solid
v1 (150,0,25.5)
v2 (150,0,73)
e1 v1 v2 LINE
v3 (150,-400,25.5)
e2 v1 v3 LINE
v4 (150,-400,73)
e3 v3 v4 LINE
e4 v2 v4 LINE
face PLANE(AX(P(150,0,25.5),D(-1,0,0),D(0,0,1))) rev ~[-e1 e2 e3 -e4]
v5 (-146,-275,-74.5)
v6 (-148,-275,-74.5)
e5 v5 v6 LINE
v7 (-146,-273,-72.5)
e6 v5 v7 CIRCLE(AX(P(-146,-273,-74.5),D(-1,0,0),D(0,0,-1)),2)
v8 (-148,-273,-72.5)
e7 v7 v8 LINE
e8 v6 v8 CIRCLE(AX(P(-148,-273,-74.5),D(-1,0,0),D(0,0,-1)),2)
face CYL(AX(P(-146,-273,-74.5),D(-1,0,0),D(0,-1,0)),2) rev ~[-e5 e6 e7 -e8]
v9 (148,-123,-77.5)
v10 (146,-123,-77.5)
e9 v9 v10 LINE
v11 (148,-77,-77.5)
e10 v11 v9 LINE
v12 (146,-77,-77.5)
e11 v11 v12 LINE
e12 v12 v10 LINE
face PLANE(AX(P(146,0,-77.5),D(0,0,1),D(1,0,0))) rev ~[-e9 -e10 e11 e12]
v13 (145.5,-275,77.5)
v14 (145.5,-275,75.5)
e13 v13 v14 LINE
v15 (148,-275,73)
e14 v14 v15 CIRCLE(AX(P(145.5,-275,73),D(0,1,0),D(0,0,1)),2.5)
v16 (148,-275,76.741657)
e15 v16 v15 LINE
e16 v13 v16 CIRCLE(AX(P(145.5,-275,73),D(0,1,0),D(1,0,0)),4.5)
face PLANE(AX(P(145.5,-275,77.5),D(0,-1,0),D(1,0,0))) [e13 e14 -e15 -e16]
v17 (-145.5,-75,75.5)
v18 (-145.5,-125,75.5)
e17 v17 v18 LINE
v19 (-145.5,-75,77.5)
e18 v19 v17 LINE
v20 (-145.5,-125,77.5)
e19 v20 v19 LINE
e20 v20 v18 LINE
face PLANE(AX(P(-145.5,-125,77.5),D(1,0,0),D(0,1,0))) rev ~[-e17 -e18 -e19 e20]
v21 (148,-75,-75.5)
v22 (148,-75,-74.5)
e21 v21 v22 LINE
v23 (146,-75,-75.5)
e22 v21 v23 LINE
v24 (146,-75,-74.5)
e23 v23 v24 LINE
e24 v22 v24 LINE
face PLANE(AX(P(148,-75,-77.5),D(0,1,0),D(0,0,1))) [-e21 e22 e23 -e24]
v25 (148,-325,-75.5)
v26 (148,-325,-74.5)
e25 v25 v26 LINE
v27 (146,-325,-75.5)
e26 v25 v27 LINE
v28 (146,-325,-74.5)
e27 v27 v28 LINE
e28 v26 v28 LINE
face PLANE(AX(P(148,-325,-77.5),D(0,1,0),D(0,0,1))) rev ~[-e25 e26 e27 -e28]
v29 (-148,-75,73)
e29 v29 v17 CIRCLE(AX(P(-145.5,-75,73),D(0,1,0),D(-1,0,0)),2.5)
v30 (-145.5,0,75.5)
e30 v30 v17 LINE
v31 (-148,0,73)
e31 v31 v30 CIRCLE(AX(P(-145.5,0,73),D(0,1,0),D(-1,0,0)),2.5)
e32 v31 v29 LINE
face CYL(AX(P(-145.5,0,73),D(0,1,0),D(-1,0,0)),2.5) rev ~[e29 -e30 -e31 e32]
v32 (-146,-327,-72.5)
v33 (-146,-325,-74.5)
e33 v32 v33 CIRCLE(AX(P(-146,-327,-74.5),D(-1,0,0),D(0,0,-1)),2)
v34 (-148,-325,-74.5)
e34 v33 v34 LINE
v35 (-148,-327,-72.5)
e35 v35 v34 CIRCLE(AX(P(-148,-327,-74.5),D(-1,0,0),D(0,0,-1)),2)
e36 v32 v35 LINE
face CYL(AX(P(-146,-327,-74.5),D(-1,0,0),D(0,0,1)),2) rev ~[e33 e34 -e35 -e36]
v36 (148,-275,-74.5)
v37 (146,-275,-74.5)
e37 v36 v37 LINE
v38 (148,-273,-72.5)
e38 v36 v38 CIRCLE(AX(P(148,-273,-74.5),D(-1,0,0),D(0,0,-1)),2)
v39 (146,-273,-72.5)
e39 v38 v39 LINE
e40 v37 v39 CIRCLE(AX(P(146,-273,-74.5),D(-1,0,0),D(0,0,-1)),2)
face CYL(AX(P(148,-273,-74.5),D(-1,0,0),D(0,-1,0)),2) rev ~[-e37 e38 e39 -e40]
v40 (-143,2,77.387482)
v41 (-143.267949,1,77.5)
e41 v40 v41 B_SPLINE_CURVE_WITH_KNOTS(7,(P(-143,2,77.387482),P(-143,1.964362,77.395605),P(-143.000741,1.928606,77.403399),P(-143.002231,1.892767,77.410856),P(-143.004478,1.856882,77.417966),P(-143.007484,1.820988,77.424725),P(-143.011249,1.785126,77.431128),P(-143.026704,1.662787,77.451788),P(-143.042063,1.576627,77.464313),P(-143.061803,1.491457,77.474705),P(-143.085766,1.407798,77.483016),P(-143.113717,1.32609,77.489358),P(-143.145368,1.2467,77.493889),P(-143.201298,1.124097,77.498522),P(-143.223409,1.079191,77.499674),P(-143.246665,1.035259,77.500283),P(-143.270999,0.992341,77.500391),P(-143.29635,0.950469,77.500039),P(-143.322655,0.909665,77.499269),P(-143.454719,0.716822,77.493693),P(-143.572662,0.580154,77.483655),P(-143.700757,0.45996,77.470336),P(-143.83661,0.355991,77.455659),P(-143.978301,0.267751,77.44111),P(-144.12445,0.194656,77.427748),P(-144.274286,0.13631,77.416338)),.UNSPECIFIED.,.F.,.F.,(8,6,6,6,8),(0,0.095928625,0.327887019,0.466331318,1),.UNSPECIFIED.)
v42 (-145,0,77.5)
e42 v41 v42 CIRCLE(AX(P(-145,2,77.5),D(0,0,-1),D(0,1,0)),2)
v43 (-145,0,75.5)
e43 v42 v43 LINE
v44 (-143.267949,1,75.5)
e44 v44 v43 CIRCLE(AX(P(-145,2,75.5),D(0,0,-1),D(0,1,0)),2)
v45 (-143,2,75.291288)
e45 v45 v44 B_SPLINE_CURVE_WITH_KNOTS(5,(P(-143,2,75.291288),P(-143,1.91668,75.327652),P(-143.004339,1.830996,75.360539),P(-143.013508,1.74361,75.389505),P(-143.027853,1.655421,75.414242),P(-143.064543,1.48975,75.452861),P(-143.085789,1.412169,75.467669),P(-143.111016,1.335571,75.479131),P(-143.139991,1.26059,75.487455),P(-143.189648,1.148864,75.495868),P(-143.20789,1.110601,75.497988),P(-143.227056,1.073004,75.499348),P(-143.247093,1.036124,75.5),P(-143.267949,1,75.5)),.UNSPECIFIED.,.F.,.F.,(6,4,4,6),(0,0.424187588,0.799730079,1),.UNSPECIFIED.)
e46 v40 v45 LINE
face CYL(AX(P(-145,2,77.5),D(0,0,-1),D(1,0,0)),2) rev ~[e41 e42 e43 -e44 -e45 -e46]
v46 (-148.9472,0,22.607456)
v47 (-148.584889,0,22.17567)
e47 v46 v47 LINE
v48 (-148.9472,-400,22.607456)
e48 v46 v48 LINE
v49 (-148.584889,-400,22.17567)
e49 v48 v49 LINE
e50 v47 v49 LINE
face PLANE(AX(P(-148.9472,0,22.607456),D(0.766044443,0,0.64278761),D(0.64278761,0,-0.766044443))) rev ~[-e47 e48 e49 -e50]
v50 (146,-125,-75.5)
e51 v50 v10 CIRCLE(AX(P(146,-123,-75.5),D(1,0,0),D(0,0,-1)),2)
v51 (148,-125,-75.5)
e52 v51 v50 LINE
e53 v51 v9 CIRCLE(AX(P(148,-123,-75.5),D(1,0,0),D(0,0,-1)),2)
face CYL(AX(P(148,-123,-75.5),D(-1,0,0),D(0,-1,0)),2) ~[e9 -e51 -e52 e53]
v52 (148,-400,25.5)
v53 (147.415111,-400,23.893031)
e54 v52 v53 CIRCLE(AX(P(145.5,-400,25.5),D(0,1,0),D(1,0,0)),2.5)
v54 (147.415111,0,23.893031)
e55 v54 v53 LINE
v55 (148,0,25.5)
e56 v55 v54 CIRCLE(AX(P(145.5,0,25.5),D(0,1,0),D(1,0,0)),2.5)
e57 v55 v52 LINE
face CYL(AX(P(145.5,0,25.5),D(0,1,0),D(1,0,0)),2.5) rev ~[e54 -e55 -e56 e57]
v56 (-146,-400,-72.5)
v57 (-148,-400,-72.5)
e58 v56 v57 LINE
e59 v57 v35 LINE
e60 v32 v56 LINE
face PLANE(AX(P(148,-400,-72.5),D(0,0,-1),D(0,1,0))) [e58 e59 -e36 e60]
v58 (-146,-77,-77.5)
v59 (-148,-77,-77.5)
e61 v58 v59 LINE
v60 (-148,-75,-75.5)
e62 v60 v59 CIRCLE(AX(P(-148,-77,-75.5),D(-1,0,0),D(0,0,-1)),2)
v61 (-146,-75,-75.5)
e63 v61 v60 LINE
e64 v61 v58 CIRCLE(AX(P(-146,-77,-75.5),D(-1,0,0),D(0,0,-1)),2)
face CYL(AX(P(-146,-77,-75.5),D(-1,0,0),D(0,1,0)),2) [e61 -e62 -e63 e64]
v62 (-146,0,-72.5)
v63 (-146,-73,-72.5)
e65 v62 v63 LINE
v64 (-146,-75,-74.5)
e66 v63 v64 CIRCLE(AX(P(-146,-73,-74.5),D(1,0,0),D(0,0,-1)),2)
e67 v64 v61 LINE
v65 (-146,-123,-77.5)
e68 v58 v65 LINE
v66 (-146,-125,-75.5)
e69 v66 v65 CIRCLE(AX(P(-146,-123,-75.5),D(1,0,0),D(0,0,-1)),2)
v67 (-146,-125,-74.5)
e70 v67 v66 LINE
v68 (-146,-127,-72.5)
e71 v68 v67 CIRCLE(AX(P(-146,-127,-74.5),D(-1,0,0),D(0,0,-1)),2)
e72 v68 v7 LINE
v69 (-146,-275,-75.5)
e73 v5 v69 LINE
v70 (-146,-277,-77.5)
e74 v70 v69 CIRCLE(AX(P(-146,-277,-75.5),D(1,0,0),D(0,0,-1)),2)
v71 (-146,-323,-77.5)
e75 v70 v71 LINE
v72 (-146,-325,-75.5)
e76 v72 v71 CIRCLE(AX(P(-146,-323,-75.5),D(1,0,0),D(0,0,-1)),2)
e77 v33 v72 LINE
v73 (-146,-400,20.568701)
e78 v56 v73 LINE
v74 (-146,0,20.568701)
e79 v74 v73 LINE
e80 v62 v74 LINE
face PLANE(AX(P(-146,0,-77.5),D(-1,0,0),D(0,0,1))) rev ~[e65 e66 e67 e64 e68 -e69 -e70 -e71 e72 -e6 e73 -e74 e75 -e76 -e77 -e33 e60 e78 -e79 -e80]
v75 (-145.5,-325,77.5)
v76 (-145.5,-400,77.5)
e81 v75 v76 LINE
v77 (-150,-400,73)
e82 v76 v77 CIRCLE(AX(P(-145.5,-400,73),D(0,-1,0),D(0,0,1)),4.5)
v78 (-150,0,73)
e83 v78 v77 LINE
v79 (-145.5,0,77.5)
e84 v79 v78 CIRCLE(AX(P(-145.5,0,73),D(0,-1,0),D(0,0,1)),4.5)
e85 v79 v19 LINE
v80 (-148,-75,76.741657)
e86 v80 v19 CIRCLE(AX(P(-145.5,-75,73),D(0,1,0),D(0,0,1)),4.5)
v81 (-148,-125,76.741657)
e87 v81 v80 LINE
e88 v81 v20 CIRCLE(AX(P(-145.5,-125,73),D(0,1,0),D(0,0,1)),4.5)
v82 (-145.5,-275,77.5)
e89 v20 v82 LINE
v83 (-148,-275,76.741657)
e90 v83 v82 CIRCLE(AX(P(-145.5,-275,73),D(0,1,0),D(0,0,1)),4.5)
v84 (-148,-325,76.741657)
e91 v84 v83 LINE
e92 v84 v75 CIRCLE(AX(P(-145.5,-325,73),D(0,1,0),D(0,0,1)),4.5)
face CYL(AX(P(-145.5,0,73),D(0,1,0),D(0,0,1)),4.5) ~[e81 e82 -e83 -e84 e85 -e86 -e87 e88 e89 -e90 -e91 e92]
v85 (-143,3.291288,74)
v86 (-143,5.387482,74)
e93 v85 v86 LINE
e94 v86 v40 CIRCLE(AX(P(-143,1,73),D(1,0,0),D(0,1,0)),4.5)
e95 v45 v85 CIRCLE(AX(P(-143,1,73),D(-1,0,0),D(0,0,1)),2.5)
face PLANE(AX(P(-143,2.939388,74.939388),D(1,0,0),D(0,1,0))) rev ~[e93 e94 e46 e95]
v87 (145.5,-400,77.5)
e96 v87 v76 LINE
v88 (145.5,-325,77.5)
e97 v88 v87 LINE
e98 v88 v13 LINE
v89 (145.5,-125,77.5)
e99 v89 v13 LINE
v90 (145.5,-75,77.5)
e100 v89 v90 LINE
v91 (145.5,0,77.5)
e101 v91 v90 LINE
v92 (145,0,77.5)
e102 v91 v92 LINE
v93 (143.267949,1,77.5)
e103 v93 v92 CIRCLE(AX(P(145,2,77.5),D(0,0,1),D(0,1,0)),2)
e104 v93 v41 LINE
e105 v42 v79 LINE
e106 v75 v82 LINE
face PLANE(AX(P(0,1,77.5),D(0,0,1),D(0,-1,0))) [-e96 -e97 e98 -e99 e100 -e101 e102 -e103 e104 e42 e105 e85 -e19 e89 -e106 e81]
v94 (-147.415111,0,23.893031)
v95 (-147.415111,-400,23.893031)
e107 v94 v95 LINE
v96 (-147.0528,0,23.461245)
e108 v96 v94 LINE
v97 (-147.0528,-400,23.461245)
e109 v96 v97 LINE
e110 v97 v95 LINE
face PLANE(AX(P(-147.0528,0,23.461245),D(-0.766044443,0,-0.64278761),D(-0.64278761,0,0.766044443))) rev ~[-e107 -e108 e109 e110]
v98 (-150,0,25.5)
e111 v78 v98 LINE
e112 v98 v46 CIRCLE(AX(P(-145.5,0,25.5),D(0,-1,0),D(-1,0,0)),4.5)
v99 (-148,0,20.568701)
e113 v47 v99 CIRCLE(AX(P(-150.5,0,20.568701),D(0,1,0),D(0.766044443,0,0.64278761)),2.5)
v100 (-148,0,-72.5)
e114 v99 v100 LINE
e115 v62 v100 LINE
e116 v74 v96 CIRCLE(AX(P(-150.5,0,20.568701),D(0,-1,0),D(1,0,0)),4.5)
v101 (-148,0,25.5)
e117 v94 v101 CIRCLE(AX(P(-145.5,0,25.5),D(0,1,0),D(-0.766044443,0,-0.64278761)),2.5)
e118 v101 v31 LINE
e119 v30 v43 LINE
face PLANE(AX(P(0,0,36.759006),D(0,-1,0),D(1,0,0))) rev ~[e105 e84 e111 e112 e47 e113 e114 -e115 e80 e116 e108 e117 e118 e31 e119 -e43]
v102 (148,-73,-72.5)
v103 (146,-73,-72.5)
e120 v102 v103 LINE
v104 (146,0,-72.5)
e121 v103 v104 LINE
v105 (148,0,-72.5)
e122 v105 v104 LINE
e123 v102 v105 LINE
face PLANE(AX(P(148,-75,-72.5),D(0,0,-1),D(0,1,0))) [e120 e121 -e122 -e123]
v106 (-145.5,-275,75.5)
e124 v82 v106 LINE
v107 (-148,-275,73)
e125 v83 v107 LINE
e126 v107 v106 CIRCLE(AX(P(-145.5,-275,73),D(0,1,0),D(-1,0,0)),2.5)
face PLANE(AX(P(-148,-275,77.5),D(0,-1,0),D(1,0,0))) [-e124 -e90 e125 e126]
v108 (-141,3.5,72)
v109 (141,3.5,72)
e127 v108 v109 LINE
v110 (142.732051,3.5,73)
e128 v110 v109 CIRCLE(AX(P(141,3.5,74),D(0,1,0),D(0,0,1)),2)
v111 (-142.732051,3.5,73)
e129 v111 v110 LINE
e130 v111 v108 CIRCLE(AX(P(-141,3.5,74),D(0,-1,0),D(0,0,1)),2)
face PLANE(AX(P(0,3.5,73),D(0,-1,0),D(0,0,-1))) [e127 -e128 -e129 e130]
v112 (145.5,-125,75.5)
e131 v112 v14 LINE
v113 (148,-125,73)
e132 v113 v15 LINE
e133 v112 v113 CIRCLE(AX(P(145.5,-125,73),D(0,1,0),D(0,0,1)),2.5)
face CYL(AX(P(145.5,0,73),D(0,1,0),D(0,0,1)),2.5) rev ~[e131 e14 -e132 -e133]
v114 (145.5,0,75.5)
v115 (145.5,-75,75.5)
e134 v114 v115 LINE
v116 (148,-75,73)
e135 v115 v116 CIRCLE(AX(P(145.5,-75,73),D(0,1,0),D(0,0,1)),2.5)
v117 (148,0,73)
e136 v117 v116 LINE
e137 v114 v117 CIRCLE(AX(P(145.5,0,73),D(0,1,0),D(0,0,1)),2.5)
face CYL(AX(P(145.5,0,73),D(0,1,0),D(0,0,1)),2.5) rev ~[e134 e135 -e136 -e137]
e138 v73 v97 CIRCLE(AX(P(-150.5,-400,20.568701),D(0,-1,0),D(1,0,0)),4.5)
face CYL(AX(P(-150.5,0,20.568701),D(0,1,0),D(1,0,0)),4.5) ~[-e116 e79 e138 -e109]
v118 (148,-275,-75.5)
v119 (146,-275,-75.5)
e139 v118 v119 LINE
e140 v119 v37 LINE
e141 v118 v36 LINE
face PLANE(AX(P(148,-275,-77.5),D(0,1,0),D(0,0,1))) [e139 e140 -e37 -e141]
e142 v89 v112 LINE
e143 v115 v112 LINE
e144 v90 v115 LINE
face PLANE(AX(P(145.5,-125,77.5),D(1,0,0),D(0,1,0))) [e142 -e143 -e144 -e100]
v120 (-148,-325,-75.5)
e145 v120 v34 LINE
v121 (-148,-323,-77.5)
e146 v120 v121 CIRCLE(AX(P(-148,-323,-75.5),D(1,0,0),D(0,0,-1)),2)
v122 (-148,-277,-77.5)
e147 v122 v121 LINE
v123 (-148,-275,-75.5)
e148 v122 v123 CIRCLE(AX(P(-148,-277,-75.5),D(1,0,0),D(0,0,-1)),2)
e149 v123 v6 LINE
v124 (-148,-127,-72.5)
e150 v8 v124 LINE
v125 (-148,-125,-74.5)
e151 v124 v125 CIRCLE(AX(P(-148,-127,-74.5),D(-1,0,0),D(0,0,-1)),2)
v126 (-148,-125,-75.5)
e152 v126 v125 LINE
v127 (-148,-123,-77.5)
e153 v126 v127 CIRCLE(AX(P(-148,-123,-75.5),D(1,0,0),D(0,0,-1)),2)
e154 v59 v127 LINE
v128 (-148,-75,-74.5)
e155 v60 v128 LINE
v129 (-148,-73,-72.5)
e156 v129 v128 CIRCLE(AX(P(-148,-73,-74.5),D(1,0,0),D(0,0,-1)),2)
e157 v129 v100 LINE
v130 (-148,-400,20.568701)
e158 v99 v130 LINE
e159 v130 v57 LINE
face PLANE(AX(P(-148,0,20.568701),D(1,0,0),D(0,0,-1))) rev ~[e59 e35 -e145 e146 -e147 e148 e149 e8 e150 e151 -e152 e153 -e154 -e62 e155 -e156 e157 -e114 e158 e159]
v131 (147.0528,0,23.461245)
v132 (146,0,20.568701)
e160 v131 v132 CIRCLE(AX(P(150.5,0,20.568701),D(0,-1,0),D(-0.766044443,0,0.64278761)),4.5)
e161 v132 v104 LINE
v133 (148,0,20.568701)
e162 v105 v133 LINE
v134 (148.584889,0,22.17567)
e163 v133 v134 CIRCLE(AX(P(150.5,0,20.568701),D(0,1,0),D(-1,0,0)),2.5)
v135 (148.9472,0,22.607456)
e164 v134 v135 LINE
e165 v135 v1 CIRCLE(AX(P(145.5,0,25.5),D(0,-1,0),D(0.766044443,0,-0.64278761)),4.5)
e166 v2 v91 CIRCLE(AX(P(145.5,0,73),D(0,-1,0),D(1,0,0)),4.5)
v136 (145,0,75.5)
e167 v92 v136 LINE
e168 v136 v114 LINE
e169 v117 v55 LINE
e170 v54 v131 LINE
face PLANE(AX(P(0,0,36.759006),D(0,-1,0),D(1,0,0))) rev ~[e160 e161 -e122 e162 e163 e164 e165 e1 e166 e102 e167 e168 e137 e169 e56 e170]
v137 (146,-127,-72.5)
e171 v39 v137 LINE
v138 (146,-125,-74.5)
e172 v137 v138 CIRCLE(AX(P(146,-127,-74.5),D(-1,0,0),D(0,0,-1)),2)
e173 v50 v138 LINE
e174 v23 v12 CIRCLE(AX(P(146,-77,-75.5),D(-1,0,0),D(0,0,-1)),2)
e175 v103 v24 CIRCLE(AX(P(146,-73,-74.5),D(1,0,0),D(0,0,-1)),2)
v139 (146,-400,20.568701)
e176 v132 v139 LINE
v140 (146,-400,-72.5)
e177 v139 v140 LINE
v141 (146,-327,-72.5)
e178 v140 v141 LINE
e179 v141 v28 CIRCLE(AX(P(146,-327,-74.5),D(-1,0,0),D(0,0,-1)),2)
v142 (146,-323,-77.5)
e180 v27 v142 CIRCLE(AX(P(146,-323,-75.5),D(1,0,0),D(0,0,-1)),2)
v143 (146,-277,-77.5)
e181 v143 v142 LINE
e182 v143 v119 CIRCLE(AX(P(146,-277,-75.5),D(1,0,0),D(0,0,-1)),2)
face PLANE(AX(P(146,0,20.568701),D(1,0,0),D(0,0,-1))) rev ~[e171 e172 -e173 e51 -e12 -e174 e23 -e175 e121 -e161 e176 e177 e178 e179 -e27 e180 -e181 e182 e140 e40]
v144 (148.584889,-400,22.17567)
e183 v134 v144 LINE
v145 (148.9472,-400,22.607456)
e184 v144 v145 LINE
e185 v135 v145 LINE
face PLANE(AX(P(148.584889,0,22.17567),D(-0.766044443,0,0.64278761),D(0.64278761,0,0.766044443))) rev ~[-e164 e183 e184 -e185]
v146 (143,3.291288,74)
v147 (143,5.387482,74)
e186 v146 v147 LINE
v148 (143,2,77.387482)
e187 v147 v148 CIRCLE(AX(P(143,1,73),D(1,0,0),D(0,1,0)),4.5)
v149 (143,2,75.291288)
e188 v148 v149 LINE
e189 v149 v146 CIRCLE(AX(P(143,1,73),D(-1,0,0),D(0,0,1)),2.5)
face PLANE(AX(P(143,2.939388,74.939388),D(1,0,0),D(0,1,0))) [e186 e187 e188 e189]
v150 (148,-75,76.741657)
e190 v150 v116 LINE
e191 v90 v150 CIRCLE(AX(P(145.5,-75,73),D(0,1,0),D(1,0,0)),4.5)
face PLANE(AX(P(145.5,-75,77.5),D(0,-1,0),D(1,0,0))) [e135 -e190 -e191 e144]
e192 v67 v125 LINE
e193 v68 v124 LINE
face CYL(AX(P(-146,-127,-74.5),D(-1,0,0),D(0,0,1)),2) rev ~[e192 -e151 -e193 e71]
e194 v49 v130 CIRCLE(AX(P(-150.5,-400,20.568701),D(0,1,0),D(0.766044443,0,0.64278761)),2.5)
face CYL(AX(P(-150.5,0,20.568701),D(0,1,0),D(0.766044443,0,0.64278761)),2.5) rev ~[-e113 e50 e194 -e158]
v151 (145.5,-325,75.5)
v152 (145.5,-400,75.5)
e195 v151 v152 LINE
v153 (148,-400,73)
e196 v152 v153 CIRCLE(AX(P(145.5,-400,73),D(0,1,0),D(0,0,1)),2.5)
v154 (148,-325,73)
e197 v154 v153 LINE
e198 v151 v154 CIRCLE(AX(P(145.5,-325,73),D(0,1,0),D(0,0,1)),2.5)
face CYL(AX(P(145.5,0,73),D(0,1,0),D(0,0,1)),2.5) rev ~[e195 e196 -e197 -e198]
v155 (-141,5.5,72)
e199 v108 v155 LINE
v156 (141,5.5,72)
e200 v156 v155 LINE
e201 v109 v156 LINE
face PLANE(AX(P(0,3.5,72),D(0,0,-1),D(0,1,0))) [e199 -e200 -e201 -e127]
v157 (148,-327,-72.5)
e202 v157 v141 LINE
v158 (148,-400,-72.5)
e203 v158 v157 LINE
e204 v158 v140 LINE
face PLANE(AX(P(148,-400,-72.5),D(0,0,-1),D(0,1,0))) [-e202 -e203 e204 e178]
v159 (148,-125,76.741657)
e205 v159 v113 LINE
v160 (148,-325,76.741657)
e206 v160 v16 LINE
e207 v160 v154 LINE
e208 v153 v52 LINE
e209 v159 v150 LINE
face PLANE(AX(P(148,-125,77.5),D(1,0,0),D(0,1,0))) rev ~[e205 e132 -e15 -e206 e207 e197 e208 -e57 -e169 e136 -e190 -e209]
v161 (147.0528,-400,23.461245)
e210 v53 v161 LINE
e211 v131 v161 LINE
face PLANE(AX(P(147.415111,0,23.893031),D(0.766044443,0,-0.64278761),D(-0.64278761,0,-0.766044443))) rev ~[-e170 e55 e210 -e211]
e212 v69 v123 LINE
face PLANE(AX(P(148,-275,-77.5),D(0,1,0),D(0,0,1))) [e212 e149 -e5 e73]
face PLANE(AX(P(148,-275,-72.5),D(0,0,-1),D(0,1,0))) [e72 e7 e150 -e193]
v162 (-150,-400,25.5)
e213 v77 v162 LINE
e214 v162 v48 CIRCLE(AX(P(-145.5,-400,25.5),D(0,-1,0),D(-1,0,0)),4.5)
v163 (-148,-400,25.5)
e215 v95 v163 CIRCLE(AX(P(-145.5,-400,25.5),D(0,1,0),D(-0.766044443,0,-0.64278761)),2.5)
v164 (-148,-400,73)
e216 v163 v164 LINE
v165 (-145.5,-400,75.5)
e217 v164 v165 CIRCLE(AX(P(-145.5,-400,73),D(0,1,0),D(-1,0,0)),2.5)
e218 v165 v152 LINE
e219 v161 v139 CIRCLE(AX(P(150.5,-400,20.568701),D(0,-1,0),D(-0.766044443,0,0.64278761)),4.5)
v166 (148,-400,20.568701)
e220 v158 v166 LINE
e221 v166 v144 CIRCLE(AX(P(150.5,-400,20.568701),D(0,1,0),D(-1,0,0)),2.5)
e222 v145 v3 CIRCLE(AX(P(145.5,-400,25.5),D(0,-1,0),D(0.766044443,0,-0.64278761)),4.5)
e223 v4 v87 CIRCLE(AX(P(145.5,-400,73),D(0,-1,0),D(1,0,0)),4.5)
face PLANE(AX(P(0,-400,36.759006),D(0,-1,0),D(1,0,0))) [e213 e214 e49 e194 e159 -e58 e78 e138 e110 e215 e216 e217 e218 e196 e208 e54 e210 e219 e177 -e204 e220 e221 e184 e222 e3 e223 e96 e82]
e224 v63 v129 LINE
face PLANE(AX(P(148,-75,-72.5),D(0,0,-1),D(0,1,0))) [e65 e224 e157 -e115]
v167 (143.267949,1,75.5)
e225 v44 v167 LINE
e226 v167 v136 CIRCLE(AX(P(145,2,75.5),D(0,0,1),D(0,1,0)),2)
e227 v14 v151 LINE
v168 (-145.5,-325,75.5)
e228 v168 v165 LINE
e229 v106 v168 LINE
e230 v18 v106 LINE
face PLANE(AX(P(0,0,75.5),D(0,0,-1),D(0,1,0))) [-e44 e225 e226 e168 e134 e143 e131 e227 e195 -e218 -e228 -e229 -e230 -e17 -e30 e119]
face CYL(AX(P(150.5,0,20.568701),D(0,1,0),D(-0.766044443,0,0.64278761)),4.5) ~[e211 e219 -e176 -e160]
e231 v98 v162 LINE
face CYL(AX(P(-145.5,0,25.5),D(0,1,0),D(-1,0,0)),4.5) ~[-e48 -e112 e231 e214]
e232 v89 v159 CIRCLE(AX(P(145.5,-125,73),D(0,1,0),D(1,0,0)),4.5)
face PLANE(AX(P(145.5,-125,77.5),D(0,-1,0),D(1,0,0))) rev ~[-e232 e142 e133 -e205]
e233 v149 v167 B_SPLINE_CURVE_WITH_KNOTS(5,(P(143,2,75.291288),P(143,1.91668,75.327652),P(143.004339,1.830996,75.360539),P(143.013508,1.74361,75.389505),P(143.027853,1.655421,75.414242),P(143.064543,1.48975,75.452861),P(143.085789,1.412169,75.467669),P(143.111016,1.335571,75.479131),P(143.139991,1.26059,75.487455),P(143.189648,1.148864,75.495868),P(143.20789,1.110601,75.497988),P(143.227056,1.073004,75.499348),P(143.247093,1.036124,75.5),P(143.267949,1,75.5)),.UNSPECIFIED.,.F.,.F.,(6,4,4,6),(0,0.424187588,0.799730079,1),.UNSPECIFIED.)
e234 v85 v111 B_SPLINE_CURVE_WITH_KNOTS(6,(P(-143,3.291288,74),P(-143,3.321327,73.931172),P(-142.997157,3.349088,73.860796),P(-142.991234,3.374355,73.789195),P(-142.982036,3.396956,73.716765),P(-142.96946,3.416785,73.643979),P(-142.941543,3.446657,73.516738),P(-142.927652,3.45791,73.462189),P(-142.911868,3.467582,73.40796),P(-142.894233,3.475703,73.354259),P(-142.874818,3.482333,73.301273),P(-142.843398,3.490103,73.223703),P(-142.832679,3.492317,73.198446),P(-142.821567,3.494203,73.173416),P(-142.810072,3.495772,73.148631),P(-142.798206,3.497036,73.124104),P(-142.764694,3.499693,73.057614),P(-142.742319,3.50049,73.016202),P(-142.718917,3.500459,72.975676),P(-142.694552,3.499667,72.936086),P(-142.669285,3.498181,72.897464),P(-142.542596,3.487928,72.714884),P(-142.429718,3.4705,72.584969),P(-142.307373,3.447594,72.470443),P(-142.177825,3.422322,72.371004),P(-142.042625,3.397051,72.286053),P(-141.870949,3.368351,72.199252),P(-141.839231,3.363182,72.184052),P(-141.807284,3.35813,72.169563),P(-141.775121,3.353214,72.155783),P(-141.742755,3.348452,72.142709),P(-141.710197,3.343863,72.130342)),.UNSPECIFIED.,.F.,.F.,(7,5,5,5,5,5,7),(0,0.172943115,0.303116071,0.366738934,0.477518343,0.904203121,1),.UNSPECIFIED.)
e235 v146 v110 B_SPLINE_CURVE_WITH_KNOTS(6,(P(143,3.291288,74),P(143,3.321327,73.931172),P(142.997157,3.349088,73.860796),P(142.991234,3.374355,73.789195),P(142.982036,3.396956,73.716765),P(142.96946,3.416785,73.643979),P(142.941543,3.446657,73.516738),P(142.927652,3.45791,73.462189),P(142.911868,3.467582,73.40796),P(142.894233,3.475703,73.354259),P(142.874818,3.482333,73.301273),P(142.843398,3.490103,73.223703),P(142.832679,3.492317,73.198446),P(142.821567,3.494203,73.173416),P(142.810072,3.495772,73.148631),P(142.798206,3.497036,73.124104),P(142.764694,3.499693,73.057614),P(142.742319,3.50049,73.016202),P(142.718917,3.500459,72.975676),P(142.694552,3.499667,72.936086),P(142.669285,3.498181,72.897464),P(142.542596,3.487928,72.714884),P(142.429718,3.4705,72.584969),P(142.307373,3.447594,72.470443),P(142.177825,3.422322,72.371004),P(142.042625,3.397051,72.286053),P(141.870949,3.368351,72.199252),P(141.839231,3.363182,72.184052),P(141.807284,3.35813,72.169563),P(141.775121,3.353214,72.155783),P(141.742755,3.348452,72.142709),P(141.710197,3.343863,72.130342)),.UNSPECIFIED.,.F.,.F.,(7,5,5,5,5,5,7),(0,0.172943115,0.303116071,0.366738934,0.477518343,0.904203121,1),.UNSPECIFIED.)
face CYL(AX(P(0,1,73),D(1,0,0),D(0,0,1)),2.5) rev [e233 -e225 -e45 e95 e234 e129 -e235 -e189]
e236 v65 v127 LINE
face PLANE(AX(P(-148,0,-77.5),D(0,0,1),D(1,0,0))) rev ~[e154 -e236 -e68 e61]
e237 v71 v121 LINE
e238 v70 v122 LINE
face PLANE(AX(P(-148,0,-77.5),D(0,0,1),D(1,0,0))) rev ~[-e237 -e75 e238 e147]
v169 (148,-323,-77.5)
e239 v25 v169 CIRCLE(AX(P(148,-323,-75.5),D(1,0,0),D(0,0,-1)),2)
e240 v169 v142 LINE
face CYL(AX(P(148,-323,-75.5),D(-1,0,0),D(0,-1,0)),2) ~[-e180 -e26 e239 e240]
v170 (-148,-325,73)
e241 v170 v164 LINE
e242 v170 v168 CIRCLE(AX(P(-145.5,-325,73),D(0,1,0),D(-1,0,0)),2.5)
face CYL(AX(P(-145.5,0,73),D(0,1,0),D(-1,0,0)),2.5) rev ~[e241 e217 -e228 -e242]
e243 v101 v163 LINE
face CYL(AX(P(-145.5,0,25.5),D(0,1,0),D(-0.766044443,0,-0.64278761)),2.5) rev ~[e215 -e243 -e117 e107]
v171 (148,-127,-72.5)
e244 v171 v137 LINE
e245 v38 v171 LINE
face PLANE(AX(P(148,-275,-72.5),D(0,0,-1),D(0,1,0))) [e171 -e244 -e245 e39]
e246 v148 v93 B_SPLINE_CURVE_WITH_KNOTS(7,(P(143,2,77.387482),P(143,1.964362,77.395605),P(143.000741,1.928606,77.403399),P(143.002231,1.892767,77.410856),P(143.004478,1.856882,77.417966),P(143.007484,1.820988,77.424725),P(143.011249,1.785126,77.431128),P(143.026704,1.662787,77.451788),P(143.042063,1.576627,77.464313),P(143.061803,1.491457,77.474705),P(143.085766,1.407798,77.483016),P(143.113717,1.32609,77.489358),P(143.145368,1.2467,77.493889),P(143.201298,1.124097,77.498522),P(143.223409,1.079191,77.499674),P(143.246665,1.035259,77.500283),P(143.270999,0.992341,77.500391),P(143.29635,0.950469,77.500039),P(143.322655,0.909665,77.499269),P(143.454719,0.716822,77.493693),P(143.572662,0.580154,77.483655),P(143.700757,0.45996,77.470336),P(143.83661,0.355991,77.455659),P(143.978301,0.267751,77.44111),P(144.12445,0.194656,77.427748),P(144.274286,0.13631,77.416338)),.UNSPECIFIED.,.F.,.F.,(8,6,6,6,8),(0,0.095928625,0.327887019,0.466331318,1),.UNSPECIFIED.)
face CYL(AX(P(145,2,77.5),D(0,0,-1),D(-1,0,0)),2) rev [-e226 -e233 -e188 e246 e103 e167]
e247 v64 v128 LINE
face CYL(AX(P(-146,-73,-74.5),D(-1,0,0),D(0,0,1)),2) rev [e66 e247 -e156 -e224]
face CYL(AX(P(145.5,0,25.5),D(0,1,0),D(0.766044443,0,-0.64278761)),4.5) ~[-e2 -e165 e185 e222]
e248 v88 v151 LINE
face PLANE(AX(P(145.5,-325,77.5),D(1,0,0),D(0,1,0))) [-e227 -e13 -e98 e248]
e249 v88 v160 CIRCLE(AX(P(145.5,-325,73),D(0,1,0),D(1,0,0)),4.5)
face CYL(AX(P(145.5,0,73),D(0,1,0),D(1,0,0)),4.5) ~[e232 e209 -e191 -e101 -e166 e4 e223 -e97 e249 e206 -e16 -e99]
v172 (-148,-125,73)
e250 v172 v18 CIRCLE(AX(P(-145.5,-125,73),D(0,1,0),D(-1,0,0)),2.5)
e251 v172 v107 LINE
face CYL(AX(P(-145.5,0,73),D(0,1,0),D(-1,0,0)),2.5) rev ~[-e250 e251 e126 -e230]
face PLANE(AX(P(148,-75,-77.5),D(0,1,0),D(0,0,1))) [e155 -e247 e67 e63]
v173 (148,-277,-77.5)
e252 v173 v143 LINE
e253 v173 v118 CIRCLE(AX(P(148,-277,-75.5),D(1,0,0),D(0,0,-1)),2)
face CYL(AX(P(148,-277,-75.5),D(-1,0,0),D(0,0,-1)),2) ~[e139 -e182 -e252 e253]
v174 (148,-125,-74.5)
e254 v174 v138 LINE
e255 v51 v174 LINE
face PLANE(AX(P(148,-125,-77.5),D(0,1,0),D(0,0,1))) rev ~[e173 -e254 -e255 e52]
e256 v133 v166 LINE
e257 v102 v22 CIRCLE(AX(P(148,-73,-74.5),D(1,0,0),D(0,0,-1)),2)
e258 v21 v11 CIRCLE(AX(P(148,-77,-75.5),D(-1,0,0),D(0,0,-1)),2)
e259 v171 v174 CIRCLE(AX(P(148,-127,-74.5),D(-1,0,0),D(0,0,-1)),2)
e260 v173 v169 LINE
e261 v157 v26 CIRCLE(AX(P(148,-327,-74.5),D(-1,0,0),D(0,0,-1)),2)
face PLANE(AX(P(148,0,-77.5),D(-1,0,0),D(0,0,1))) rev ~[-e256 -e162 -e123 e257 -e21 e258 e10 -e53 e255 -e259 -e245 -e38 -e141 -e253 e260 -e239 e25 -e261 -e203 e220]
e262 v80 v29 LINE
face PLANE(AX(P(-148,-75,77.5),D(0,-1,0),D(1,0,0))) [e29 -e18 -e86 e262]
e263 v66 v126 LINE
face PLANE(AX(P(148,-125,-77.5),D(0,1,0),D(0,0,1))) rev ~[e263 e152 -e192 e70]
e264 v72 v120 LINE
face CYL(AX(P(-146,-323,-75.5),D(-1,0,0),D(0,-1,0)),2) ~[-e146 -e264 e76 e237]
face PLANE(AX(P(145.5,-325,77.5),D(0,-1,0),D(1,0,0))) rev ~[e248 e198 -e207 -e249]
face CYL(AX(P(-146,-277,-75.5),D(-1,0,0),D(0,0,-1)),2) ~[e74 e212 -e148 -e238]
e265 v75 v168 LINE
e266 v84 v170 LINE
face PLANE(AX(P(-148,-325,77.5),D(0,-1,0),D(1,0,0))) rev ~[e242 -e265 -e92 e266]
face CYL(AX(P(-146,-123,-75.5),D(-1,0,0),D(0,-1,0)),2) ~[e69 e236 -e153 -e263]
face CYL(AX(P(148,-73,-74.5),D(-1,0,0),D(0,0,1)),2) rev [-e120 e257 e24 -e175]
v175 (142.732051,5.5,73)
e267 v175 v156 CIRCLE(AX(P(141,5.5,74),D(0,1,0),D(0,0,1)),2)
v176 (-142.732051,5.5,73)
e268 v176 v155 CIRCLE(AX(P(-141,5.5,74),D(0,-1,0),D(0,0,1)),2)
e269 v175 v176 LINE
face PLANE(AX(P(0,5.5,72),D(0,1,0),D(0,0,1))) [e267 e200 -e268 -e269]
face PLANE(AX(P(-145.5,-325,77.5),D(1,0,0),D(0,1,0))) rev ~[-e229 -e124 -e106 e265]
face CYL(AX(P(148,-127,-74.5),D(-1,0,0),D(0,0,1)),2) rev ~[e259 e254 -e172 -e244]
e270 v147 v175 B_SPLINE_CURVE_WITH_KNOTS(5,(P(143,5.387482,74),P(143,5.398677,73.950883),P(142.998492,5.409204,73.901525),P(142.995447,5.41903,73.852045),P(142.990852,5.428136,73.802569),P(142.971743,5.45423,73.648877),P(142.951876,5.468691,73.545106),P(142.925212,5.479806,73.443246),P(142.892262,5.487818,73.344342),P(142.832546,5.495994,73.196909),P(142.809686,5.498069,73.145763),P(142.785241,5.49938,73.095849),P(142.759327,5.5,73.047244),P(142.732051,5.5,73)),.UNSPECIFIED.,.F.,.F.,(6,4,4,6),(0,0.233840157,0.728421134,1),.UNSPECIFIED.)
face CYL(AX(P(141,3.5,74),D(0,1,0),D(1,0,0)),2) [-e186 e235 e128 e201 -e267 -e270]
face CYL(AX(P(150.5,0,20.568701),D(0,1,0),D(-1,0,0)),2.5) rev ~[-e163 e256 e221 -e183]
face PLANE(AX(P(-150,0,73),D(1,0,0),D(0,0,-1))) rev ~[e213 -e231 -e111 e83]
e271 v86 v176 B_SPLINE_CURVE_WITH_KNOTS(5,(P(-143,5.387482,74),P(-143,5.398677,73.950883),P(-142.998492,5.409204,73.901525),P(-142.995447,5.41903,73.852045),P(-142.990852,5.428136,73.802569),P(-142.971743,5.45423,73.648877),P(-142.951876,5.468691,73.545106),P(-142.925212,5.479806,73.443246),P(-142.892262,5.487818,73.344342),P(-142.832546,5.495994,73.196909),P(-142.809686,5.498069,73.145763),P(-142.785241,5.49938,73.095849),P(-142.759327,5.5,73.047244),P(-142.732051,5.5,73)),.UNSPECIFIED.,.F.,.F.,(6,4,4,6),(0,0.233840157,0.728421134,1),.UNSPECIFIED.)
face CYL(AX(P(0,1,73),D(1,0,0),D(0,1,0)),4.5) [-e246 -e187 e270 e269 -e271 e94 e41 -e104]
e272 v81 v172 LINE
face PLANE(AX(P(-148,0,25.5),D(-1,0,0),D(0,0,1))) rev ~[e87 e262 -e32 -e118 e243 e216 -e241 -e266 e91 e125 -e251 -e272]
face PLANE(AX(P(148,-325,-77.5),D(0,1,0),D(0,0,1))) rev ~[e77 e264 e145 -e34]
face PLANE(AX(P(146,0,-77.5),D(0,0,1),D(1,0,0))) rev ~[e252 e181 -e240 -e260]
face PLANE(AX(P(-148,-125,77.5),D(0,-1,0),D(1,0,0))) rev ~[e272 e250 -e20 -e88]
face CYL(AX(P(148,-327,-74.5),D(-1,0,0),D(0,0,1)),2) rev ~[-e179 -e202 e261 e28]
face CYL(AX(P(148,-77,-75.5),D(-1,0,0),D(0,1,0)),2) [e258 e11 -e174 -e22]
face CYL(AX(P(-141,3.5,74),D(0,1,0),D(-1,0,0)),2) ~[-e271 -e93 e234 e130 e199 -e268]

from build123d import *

# Parameters (mm, degrees)
F1_DEPTH      = 400
F2_W          = 150
F2_H          = 5
F2_W_2        = 75
F3_DEPTH      = 645
F4_W          = 2.5
F4_H          = 50
F5_DEPTH      = 21
F6_R          = 2
F8_DEPTH      = 143
F8_DEPTH_BACK = 143
F9_R          = 2


with BuildPart() as f1:
    # F0 (on Front) → F1 (new body)
    with BuildSketch(Plane.XZ):
        with BuildLine():
            ThreePointArc((150, 73), (148.6819805153, 76.1819805153), (145.5, 77.5))
            Line((145.5, 77.5), (0, 77.5))
            Line((0, 77.5), (-145.5, 77.5))
            ThreePointArc((-145.5, 77.5), (-148.6819805153, 76.1819805153), (-150, 73))
            Line((-150, 73), (-150, 25.5))
            ThreePointArc((-150, 25.5), (-149.7286167935, 23.960909355), (-148.947199994, 22.6074557564))
            Line((-148.947199994, 22.6074557564), (-148.5848888922, 22.1756701992))
            ThreePointArc((-148.5848888922, 22.1756701992), (-148.150768448, 21.4237515333), (-148, 20.5687011749))
            Line((-148, 20.5687011749), (-148, -77.5))
            Line((-148, -77.5), (-146, -77.5))
            Line((-146, -77.5), (-146, 20.5687011749))
            ThreePointArc((-146, 20.5687011749), (-146.2713832065, 22.1077918199), (-147.052800006, 23.4612454185))
            Line((-147.052800006, 23.4612454185), (-147.4151111078, 23.8930309758))
            ThreePointArc((-147.4151111078, 23.8930309758), (-147.849231552, 24.6449496417), (-148, 25.5))
            Line((-148, 25.5), (-148, 73))
            ThreePointArc((-148, 73), (-147.267766953, 74.767766953), (-145.5, 75.5))
            Line((-145.5, 75.5), (0, 75.5))
            Line((0, 75.5), (145.5, 75.5))
            ThreePointArc((145.5, 75.5), (147.267766953, 74.767766953), (148, 73))
            Line((148, 73), (148, 25.5))
            ThreePointArc((148, 25.5), (147.849231552, 24.6449496417), (147.4151111078, 23.8930309758))
            Line((147.4151111078, 23.8930309758), (147.052800006, 23.4612454185))
            ThreePointArc((147.052800006, 23.4612454185), (146.2713832065, 22.1077918199), (146, 20.5687011749))
            Line((146, 20.5687011749), (146, -77.5))
            Line((146, -77.5), (148, -77.5))
            Line((148, -77.5), (148, 20.5687011749))
            ThreePointArc((148, 20.5687011749), (148.150768448, 21.4237515333), (148.5848888922, 22.1756701992))
            Line((148.5848888922, 22.1756701992), (148.947199994, 22.6074557564))
            ThreePointArc((148.947199994, 22.6074557564), (149.7286167935, 23.960909355), (150, 25.5))
            Line((150, 25.5), (150, 73))
        make_face()
    extrude(amount=F1_DEPTH)

    # F2 (on face) → F3 (cut)
    with BuildSketch(Plane.YZ.offset(148)):
        with Locations((-200, -75)):
            Rectangle(F2_W, F2_H)
        with Locations((-37.5, -75)):
            Rectangle(F2_W_2, F2_H)
        with Locations((-362.5, -75)):
            Rectangle(F2_W_2, F2_H)
    extrude(amount=-F3_DEPTH, mode=Mode.SUBTRACT)

    # F4 (on face) → F5 (cut)
    with BuildSketch(Plane.XY.offset(77.5)):
        with Locations((146.75, -100)):
            Rectangle(F4_W, F4_H)
        with Locations((146.75, -300)):
            Rectangle(F4_W, F4_H)
        with Locations((-146.75, -100)):
            Rectangle(F4_W, F4_H)
        with Locations((-146.75, -300)):
            Rectangle(F4_W, F4_H)
    extrude(amount=-F5_DEPTH, mode=Mode.SUBTRACT)

    # F6
    f6_edges = [f1.edges().sort_by_distance(p)[0] for p in [
        (147, -125, -72.5),
        (147, -325, -72.5),
        (-147, -325, -72.5),
        (-147, -125, -72.5),
        (147, -75, -72.5),
        (147, -275, -72.5),
        (-147, -275, -72.5),
        (-147, -75, -72.5),
        (147, -325, -77.5),
        (147, -125, -77.5),
        (-147, -325, -77.5),
        (-147, -125, -77.5),
        (147, -275, -77.5),
        (147, -75, -77.5),
        (-147, -275, -77.5),
        (-147, -75, -77.5),
    ]]
    fillet(f6_edges, radius=F6_R)

    # F7 (on Right) → F8 (join, two sides)
    with BuildSketch(Plane.YZ) as f8_sk:
        with BuildLine():
            Line((1, 77.5), (0, 77.5))
            Line((0, 77.5), (0, 75.5))
            Line((0, 75.5), (1, 75.5))
            ThreePointArc((1, 75.5), (2.767766953, 74.767766953), (3.5, 73))
            Line((3.5, 73), (3.5, 72))
            Line((3.5, 72), (5.5, 72))
            Line((5.5, 72), (5.5, 73))
            ThreePointArc((5.5, 73), (4.1819805153, 76.1819805153), (1, 77.5))
        make_face()
    extrude(amount=F8_DEPTH)
    extrude(f8_sk.sketch, amount=-F8_DEPTH_BACK)

    # F9 (call 1 of 4: OpenCascade refuses the feature's edges together)
    f9_edges = [f1.edges().sort_by_distance(p)[0] for p in [
        (143, 0, 76.5),
    ]]
    fillet(f9_edges, radius=F9_R)

    # F9#2 (call 2 of 4)
    f9_2_edges = [f1.edges().sort_by_distance(p)[0] for p in [
        (-143, 0, 76.5),
    ]]
    fillet(f9_2_edges, radius=F9_R)

    # F9#3 (call 3 of 4)
    f9_3_edges = [f1.edges().sort_by_distance(p)[0] for p in [
        (-143, 4.5, 72),
    ]]
    fillet(f9_3_edges, radius=F9_R)

    # F9#4 (call 4 of 4)
    f9_4_edges = [f1.edges().sort_by_distance(p)[0] for p in [
        (143, 4.5, 72),
    ]]
    fillet(f9_4_edges, radius=F9_R)


solid = f1.part
